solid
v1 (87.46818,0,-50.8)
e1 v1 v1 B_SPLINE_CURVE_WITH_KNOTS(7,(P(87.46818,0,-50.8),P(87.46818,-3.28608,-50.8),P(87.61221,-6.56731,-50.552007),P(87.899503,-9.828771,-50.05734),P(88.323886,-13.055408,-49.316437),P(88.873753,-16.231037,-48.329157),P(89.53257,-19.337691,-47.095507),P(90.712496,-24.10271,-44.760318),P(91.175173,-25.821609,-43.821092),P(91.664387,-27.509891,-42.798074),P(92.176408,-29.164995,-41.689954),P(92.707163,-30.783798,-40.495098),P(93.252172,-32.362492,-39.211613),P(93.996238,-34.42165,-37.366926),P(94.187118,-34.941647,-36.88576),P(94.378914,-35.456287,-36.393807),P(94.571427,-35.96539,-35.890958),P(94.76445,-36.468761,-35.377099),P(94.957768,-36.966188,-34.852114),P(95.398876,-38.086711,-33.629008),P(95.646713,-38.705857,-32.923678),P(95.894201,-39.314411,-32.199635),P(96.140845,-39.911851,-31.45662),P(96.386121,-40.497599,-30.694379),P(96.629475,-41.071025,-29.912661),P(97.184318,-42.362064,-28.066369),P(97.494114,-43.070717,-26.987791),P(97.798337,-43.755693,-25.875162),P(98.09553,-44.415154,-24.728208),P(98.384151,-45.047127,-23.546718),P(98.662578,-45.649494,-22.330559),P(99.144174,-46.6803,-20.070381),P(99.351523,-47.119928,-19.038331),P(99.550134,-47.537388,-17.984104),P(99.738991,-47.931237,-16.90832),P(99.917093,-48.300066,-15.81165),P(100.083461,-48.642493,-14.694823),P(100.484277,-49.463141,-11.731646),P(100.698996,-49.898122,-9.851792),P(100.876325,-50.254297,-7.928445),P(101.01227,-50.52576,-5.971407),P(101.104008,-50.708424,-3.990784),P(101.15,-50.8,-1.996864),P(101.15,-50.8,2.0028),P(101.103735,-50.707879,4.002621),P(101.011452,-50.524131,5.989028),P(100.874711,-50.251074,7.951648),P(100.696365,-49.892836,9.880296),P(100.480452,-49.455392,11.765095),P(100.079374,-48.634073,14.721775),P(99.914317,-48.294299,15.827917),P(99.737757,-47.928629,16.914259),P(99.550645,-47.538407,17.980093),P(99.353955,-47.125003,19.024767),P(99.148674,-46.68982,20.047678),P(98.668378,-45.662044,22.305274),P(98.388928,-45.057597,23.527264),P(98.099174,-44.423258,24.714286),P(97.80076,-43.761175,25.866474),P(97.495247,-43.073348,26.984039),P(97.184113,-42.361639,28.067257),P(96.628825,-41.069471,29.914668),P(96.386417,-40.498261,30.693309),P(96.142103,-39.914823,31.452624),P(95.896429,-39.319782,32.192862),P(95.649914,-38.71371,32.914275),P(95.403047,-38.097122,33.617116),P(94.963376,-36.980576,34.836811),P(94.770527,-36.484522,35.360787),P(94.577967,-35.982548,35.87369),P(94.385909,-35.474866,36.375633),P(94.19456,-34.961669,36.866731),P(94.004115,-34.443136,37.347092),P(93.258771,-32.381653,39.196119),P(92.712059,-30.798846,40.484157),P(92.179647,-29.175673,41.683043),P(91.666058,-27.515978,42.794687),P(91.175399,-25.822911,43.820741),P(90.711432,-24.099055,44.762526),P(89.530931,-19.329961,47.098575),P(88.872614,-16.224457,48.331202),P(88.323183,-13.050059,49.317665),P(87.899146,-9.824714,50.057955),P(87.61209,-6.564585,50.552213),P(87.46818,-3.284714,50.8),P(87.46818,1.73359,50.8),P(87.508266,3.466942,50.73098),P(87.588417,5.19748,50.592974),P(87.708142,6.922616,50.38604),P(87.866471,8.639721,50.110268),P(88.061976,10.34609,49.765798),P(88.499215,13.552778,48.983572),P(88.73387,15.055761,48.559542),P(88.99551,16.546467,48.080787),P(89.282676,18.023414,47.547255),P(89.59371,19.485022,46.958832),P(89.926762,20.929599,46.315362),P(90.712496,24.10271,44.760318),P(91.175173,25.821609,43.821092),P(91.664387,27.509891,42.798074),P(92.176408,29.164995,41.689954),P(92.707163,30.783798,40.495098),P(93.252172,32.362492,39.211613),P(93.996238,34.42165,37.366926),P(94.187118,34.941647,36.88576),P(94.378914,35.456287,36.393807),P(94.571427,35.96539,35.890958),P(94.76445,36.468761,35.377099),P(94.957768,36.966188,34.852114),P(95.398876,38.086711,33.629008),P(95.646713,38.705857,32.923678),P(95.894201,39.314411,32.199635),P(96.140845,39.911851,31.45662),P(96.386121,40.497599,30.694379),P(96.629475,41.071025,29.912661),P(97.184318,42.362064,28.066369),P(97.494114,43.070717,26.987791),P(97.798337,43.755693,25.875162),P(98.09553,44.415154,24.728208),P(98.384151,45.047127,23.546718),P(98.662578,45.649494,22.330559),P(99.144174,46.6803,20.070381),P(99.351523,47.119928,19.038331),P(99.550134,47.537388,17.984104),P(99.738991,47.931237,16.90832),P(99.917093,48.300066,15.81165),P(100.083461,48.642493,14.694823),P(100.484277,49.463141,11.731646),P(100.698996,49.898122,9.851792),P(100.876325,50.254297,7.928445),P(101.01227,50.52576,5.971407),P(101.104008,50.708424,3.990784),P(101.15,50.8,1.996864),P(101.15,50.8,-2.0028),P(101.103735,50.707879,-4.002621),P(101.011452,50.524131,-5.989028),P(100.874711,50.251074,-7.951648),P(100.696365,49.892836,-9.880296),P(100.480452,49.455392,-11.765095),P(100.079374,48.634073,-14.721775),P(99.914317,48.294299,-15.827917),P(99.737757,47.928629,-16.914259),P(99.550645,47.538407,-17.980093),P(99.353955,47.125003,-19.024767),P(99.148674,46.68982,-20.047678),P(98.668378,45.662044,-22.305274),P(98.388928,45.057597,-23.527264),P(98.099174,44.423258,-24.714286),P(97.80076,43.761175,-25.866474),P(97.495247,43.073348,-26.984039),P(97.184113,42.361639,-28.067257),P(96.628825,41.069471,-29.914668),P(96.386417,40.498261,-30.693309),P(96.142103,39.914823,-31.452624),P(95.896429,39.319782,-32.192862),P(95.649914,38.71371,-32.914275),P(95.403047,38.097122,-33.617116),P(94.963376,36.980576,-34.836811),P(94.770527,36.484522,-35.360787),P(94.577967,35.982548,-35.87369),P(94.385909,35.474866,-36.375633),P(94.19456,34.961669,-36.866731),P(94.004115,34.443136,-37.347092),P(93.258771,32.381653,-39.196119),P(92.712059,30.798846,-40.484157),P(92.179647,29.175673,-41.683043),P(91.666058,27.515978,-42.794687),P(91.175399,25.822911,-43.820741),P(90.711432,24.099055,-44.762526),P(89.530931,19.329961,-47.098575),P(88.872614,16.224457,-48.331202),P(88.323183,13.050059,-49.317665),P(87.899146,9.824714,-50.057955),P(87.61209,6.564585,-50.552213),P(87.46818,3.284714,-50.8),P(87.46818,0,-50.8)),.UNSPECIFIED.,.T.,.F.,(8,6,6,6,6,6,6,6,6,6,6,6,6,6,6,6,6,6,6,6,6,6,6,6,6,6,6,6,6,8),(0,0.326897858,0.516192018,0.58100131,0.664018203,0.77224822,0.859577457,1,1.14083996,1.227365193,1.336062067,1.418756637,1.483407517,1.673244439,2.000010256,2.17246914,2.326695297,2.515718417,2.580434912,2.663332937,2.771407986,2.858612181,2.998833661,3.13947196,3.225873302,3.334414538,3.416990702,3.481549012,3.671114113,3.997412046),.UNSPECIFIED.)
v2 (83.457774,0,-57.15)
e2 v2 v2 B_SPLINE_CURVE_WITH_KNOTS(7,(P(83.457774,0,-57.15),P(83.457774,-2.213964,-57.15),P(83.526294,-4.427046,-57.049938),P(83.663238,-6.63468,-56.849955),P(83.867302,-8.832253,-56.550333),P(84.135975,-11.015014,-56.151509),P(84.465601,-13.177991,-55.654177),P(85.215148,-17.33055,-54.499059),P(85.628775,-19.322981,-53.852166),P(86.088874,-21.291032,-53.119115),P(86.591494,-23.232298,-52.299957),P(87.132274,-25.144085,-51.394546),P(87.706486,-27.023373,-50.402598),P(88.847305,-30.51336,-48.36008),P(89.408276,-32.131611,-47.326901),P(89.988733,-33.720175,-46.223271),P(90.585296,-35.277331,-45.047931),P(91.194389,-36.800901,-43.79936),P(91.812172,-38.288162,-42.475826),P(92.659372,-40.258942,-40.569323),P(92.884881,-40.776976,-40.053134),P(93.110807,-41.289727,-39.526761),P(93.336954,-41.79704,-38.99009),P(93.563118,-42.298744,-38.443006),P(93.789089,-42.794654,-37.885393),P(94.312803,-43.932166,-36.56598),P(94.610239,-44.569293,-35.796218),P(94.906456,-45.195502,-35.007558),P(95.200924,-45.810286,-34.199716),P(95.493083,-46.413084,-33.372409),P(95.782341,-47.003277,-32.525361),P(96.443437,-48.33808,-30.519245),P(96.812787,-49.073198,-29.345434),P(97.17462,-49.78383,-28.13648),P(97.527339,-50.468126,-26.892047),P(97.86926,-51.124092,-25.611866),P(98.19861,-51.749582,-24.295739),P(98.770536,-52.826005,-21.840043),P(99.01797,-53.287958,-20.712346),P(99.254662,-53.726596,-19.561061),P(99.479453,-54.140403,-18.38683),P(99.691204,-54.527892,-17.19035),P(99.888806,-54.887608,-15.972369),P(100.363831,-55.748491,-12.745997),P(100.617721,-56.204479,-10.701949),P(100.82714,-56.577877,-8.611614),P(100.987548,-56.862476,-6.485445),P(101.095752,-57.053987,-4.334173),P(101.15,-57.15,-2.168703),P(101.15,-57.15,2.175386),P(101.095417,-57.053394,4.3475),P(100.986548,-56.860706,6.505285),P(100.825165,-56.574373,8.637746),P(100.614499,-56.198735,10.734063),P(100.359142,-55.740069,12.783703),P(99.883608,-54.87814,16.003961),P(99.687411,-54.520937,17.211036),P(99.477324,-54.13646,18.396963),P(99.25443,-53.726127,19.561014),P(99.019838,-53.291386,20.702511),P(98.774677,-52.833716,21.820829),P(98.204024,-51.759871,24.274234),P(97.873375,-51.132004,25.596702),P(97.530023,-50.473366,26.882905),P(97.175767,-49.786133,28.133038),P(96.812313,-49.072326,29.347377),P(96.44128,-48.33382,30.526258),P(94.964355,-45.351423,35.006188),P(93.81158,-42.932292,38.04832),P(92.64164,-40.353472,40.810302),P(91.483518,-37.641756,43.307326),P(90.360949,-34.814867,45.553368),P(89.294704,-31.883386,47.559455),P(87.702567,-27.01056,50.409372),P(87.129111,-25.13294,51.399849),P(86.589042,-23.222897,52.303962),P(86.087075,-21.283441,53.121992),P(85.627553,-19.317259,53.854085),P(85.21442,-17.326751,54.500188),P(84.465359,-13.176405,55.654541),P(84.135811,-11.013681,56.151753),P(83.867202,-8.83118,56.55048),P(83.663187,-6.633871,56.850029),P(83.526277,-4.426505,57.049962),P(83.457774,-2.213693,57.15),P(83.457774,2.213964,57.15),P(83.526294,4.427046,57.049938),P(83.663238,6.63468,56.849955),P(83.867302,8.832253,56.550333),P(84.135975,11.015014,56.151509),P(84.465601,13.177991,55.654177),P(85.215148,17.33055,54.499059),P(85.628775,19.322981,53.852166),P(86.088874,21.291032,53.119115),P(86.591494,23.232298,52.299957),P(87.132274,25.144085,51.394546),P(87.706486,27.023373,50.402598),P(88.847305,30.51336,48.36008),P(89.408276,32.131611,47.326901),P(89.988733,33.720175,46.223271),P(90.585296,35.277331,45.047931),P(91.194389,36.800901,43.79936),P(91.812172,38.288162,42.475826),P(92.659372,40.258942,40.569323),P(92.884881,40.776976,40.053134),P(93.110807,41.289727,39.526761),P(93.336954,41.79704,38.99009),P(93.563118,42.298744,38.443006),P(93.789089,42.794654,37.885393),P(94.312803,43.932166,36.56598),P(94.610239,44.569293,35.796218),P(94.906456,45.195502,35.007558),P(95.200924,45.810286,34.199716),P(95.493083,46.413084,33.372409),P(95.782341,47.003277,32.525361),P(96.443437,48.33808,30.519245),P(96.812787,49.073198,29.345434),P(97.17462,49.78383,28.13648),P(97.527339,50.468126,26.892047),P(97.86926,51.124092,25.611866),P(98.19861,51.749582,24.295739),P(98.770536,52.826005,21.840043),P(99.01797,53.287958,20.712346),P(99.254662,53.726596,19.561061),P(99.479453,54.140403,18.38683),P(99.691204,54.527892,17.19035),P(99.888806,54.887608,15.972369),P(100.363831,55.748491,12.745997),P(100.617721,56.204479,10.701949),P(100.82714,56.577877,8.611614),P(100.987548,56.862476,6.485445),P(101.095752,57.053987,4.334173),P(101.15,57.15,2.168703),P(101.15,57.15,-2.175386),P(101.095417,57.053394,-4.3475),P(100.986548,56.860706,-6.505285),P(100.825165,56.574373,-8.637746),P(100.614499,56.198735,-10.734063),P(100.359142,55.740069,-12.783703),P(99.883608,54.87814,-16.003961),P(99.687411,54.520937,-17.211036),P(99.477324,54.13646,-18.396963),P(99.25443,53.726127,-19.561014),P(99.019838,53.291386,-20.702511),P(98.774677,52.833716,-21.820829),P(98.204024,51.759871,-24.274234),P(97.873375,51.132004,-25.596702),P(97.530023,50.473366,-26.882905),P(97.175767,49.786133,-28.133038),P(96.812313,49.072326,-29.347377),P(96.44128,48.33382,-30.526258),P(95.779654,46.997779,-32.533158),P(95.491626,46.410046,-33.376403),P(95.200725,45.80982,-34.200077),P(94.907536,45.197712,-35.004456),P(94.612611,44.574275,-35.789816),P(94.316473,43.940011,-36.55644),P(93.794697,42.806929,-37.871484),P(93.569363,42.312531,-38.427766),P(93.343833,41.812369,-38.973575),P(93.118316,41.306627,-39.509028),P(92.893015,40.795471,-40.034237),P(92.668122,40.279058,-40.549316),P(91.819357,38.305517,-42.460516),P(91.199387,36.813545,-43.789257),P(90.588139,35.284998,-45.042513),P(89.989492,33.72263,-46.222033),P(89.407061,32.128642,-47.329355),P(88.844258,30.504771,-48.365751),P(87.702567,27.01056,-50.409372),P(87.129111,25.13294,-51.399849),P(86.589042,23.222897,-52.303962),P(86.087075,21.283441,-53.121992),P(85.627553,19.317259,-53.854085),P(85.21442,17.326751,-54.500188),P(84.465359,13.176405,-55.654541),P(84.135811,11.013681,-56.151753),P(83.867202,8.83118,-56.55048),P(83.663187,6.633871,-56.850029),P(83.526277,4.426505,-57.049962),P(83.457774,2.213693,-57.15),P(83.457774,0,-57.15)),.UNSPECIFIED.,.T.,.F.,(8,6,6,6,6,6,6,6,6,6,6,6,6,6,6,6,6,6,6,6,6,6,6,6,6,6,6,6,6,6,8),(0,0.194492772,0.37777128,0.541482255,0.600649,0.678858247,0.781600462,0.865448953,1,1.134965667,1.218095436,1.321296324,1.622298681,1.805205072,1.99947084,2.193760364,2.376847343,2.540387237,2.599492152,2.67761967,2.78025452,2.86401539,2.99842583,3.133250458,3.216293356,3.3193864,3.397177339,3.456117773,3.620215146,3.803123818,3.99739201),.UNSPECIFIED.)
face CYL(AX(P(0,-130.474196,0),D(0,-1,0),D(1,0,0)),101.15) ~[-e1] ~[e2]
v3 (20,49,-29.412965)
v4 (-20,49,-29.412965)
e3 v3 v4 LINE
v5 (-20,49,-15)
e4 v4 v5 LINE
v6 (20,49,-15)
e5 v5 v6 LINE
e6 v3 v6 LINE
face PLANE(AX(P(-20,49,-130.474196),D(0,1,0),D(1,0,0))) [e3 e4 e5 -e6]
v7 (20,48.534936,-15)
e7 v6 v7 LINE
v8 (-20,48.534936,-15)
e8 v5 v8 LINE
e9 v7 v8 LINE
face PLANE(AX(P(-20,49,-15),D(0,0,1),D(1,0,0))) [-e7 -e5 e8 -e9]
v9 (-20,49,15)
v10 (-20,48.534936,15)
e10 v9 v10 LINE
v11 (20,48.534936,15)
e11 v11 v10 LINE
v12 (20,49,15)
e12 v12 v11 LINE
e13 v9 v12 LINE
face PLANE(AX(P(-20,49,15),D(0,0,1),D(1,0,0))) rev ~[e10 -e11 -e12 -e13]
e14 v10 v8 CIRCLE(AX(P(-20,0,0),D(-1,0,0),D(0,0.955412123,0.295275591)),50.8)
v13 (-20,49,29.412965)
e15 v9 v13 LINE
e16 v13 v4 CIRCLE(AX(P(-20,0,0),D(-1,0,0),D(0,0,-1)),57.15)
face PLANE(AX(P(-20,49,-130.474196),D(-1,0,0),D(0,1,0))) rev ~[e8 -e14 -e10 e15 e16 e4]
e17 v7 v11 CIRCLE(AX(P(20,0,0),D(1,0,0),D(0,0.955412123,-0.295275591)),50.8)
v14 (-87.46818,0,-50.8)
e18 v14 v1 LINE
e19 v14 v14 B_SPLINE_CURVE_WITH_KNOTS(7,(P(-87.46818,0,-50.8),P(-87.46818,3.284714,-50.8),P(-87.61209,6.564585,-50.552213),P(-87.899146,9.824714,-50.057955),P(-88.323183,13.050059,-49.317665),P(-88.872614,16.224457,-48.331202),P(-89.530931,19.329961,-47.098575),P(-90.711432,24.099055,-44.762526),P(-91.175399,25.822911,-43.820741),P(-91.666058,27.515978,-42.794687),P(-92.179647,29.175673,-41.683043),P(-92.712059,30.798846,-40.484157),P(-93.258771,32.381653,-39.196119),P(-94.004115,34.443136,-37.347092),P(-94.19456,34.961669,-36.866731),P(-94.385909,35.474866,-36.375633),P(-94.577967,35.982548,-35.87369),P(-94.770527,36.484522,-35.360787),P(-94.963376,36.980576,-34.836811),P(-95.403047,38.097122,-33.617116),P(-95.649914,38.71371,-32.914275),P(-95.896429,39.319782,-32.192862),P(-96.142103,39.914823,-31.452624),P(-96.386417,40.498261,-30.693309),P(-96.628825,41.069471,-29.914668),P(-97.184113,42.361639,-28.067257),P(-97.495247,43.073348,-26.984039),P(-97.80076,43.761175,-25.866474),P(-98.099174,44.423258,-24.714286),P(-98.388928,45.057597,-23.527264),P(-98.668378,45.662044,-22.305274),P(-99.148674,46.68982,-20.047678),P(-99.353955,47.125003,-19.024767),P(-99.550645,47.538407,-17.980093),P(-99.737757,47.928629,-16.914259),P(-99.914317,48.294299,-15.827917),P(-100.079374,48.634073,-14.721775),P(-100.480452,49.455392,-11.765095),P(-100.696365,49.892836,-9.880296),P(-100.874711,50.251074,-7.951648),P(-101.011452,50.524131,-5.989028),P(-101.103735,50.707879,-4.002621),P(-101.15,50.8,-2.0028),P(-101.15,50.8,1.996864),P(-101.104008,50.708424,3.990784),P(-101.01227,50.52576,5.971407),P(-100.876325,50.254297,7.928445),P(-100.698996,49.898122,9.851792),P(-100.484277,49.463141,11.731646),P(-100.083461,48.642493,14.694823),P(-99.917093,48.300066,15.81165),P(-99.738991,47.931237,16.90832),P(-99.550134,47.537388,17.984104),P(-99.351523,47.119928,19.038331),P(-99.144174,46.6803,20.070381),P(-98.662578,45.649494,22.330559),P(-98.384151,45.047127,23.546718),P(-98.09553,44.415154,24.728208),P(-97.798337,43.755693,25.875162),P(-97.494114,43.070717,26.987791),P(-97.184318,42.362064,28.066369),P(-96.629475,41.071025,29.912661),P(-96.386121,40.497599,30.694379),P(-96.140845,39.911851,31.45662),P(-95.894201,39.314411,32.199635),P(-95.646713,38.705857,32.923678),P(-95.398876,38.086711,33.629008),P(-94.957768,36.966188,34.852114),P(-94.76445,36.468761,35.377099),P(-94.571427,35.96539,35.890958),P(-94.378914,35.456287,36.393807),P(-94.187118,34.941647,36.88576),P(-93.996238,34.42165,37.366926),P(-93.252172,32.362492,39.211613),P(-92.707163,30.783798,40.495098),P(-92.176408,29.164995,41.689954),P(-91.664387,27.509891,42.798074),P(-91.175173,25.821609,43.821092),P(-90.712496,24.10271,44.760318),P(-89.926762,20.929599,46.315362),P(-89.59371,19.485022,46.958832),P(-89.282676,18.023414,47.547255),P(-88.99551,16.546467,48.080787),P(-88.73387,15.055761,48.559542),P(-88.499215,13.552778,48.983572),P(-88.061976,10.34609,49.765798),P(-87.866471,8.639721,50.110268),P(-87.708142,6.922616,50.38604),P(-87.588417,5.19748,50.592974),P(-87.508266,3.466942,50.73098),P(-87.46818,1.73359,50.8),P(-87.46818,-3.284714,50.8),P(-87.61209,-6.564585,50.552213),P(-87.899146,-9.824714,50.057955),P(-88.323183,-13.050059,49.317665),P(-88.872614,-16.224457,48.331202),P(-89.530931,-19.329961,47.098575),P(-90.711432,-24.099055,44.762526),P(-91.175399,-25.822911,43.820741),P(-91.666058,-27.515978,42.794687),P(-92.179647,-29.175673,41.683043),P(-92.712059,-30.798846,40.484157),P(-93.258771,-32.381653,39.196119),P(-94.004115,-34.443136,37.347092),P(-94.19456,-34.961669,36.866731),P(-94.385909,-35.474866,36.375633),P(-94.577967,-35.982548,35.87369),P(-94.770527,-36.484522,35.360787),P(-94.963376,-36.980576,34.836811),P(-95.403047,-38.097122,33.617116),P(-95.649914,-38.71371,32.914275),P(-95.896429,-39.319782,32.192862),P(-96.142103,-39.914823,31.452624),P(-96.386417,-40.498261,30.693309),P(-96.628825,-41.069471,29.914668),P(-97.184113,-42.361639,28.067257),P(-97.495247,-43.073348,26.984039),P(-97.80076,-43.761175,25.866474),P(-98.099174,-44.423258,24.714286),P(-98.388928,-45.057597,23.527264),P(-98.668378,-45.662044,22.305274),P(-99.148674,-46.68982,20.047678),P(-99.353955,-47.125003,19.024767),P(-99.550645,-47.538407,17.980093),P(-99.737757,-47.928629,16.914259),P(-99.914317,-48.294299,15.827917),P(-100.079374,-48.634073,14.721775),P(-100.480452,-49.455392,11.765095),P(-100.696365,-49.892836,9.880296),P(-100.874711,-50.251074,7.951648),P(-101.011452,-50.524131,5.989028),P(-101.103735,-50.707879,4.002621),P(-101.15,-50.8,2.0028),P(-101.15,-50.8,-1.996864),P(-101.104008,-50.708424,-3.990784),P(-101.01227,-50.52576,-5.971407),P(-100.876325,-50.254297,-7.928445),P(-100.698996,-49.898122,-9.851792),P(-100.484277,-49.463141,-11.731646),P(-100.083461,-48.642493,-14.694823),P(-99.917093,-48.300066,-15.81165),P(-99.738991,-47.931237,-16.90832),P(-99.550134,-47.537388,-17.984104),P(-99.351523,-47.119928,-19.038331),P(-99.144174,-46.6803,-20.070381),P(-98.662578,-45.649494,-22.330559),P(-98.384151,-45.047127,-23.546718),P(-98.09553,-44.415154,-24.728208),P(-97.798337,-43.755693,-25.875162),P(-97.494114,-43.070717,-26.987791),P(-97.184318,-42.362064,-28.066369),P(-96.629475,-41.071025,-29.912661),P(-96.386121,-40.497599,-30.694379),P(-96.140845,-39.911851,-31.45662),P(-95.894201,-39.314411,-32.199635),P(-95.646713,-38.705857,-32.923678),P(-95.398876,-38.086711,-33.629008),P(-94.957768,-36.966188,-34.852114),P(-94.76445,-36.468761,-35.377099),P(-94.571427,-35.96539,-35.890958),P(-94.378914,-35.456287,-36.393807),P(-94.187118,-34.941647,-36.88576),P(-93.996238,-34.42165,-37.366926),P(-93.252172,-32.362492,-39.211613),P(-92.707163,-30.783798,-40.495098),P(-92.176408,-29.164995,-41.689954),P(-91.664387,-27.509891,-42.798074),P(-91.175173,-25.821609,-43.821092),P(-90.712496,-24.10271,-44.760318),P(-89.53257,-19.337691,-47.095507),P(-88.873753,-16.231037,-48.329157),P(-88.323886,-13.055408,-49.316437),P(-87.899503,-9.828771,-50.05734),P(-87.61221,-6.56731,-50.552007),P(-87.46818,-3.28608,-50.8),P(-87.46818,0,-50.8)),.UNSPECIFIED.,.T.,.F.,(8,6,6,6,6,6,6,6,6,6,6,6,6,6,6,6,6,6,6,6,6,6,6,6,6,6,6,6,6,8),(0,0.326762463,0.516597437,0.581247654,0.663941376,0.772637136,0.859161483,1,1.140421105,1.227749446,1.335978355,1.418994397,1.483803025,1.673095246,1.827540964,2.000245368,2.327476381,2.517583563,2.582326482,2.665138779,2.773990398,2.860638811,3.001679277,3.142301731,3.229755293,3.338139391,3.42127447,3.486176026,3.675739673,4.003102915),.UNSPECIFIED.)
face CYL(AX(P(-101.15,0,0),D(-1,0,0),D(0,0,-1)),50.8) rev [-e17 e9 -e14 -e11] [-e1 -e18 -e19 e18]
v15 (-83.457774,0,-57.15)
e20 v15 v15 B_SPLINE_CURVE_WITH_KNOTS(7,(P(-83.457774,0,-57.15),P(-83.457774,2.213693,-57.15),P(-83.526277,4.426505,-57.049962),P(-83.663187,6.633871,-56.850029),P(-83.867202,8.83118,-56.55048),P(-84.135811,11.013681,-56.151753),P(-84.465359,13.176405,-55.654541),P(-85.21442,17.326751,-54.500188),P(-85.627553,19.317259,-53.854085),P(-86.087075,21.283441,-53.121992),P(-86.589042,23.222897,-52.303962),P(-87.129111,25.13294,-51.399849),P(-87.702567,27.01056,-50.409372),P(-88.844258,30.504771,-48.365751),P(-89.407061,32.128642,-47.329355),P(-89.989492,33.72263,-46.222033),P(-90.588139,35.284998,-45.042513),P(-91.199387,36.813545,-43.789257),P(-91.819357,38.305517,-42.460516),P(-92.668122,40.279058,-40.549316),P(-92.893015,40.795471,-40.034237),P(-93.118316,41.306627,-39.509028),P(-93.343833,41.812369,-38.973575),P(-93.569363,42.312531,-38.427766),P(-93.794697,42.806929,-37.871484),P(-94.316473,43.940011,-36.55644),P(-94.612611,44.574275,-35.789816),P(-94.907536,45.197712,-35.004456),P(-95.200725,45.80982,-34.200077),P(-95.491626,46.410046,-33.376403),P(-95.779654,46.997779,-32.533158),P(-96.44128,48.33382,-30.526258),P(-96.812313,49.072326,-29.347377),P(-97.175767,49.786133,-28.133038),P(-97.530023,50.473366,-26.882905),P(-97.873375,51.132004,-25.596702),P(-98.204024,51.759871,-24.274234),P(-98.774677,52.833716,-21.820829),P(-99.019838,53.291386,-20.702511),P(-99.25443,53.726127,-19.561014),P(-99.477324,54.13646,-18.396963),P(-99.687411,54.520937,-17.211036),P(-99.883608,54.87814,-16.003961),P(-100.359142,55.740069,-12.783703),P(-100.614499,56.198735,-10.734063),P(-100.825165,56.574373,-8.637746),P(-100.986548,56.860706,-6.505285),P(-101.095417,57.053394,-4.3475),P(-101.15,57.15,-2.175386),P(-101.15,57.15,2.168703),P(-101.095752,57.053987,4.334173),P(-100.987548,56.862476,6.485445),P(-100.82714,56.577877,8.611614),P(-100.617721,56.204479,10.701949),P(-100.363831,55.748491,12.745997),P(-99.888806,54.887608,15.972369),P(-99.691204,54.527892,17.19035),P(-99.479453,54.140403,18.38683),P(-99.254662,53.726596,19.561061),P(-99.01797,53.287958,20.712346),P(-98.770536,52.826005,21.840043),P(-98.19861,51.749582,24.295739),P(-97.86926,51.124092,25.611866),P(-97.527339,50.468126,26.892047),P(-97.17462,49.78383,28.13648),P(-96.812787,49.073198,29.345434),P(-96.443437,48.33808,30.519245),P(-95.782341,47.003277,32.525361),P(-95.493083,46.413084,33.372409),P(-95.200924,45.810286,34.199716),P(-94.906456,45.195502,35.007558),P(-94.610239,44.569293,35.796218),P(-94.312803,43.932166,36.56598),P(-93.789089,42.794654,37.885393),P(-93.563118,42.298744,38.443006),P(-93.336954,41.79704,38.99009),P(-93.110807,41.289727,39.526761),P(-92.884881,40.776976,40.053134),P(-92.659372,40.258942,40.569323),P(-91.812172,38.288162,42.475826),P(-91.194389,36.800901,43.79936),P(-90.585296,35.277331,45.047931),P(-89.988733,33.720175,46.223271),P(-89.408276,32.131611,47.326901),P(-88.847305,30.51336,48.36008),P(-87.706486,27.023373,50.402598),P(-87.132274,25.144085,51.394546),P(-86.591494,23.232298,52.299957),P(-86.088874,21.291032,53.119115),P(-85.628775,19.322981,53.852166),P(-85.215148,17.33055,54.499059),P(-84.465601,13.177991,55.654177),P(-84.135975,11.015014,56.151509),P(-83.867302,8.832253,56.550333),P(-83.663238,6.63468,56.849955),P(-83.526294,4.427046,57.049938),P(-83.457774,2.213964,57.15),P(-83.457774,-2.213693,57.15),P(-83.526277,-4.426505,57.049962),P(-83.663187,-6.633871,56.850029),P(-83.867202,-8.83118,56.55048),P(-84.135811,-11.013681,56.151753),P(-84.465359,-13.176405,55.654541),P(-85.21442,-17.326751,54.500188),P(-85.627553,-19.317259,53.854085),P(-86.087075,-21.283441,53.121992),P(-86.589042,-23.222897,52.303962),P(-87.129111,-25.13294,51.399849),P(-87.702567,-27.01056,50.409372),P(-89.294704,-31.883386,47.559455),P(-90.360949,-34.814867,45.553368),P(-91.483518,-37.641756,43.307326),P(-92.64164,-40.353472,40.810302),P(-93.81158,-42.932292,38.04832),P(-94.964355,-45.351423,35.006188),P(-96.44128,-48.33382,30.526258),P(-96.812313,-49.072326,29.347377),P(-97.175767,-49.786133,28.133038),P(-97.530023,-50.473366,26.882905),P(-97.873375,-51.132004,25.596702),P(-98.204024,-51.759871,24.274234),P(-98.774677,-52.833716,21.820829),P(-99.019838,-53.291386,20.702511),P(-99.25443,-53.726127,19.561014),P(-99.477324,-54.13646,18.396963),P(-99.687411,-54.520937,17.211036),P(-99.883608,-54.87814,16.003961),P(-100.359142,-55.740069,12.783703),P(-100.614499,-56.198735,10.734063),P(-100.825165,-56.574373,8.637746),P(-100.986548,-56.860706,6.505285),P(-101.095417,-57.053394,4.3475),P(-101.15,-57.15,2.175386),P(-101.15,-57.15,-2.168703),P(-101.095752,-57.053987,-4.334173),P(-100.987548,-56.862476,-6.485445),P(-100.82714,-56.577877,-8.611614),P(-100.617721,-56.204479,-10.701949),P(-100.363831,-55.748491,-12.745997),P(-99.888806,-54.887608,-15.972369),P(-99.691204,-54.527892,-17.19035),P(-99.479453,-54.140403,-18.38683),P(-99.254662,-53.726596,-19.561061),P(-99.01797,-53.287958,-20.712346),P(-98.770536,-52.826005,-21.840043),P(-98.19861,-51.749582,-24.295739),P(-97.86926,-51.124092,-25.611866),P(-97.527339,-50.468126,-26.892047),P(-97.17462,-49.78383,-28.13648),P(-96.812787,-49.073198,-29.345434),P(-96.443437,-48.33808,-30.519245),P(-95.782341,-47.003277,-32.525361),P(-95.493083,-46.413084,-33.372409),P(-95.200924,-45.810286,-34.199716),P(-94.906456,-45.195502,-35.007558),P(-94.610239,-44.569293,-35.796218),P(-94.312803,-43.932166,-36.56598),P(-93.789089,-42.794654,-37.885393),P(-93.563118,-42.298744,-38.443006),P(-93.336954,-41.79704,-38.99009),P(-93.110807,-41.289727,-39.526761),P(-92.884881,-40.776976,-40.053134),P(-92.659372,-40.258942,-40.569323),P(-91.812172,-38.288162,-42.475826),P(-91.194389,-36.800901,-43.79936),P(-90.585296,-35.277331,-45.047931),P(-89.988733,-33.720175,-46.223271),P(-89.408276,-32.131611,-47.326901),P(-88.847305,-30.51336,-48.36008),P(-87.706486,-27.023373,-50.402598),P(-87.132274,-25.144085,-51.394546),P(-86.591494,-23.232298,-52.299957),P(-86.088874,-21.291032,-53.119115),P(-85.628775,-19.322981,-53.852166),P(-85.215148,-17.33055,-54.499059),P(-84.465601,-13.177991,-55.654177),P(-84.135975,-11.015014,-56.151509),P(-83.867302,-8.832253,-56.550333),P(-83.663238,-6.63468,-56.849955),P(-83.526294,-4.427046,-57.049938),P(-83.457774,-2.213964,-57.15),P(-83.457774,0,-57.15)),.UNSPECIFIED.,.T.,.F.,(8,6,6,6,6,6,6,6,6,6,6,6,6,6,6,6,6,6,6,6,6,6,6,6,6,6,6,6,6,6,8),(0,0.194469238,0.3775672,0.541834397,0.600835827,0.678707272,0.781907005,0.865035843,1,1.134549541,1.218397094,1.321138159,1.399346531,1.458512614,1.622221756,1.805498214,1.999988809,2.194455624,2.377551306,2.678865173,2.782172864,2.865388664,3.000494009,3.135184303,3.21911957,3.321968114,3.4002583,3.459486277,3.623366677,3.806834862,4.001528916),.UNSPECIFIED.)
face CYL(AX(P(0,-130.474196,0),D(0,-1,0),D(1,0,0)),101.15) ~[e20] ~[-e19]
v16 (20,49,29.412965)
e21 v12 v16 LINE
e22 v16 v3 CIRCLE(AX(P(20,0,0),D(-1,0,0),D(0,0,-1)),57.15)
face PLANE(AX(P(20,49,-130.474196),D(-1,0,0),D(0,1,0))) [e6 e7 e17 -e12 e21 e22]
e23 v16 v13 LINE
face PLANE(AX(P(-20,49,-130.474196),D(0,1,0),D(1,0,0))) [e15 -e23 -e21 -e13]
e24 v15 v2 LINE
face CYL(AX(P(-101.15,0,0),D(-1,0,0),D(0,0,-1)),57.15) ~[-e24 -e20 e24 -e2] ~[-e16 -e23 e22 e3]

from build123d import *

# Parameters (mm, degrees)
BOSS_EXTRUDE1_DEPTH      = 101.15
BOSS_EXTRUDE1_DEPTH_BACK = 101.15
SKETCH1_R                = 57.15
SKETCH1_R_2              = 50.8
CUT_EXTRUDE3_DEPTH       = 130.474196271
CUT_EXTRUDE3_DEPTH_BACK  = 130.474196271
SKETCH3_W                = 40
SKETCH3_H                = 10
SKETCH5_W                = 40
SKETCH5_H                = 30
CUT_EXTRUDE5_DEPTH       = 18.15
CUT_EXTRUDE6_DEPTH       = 130.474196271
CUT_EXTRUDE6_DEPTH_BACK  = 130.474196271
SKETCH6_W                = 252.16572489
SKETCH6_H                = 244.887597008
SKETCH6_R                = 101.15


with BuildPart() as part:
    # Sketch1 → Boss-Extrude1 (new, two sides: drawn at the far end of the back side and taken through both)
    with BuildSketch(Plane(origin=(0, 0, 0), x_dir=(0, 0, -1), z_dir=(1, 0, 0)).offset(-BOSS_EXTRUDE1_DEPTH_BACK)):
        Circle(SKETCH1_R)
        Circle(SKETCH1_R_2, mode=Mode.SUBTRACT)
    extrude(amount=BOSS_EXTRUDE1_DEPTH + BOSS_EXTRUDE1_DEPTH_BACK)

    # Sketch3 → Cut-Extrude3 (cut, two sides: drawn at the far end of the back side and taken through both)
    with BuildSketch(Plane.XY.offset(-CUT_EXTRUDE3_DEPTH_BACK)):
        with Locations((0, 54)):
            Rectangle(SKETCH3_W, SKETCH3_H)
    extrude(amount=CUT_EXTRUDE3_DEPTH + CUT_EXTRUDE3_DEPTH_BACK, mode=Mode.SUBTRACT)

    # Sketch5 → Cut-Extrude5 (cut)
    with BuildSketch(Plane(origin=(0, 49, 0), x_dir=(1, 0, 0), z_dir=(0, 1, 0))):
        Rectangle(SKETCH5_W, SKETCH5_H)
    extrude(amount=-CUT_EXTRUDE5_DEPTH, mode=Mode.SUBTRACT)

    # Sketch6 → Cut-Extrude6 (cut, two sides: drawn at the far end of the back side and taken through both)
    with BuildSketch(Plane(origin=(0, 0, 0), x_dir=(1, 0, 0), z_dir=(0, 1, 0)).offset(-CUT_EXTRUDE6_DEPTH_BACK)):
        Rectangle(SKETCH6_W, SKETCH6_H)
        Circle(SKETCH6_R, mode=Mode.SUBTRACT)
    extrude(amount=CUT_EXTRUDE6_DEPTH + CUT_EXTRUDE6_DEPTH_BACK, mode=Mode.SUBTRACT)


solid = part.part
